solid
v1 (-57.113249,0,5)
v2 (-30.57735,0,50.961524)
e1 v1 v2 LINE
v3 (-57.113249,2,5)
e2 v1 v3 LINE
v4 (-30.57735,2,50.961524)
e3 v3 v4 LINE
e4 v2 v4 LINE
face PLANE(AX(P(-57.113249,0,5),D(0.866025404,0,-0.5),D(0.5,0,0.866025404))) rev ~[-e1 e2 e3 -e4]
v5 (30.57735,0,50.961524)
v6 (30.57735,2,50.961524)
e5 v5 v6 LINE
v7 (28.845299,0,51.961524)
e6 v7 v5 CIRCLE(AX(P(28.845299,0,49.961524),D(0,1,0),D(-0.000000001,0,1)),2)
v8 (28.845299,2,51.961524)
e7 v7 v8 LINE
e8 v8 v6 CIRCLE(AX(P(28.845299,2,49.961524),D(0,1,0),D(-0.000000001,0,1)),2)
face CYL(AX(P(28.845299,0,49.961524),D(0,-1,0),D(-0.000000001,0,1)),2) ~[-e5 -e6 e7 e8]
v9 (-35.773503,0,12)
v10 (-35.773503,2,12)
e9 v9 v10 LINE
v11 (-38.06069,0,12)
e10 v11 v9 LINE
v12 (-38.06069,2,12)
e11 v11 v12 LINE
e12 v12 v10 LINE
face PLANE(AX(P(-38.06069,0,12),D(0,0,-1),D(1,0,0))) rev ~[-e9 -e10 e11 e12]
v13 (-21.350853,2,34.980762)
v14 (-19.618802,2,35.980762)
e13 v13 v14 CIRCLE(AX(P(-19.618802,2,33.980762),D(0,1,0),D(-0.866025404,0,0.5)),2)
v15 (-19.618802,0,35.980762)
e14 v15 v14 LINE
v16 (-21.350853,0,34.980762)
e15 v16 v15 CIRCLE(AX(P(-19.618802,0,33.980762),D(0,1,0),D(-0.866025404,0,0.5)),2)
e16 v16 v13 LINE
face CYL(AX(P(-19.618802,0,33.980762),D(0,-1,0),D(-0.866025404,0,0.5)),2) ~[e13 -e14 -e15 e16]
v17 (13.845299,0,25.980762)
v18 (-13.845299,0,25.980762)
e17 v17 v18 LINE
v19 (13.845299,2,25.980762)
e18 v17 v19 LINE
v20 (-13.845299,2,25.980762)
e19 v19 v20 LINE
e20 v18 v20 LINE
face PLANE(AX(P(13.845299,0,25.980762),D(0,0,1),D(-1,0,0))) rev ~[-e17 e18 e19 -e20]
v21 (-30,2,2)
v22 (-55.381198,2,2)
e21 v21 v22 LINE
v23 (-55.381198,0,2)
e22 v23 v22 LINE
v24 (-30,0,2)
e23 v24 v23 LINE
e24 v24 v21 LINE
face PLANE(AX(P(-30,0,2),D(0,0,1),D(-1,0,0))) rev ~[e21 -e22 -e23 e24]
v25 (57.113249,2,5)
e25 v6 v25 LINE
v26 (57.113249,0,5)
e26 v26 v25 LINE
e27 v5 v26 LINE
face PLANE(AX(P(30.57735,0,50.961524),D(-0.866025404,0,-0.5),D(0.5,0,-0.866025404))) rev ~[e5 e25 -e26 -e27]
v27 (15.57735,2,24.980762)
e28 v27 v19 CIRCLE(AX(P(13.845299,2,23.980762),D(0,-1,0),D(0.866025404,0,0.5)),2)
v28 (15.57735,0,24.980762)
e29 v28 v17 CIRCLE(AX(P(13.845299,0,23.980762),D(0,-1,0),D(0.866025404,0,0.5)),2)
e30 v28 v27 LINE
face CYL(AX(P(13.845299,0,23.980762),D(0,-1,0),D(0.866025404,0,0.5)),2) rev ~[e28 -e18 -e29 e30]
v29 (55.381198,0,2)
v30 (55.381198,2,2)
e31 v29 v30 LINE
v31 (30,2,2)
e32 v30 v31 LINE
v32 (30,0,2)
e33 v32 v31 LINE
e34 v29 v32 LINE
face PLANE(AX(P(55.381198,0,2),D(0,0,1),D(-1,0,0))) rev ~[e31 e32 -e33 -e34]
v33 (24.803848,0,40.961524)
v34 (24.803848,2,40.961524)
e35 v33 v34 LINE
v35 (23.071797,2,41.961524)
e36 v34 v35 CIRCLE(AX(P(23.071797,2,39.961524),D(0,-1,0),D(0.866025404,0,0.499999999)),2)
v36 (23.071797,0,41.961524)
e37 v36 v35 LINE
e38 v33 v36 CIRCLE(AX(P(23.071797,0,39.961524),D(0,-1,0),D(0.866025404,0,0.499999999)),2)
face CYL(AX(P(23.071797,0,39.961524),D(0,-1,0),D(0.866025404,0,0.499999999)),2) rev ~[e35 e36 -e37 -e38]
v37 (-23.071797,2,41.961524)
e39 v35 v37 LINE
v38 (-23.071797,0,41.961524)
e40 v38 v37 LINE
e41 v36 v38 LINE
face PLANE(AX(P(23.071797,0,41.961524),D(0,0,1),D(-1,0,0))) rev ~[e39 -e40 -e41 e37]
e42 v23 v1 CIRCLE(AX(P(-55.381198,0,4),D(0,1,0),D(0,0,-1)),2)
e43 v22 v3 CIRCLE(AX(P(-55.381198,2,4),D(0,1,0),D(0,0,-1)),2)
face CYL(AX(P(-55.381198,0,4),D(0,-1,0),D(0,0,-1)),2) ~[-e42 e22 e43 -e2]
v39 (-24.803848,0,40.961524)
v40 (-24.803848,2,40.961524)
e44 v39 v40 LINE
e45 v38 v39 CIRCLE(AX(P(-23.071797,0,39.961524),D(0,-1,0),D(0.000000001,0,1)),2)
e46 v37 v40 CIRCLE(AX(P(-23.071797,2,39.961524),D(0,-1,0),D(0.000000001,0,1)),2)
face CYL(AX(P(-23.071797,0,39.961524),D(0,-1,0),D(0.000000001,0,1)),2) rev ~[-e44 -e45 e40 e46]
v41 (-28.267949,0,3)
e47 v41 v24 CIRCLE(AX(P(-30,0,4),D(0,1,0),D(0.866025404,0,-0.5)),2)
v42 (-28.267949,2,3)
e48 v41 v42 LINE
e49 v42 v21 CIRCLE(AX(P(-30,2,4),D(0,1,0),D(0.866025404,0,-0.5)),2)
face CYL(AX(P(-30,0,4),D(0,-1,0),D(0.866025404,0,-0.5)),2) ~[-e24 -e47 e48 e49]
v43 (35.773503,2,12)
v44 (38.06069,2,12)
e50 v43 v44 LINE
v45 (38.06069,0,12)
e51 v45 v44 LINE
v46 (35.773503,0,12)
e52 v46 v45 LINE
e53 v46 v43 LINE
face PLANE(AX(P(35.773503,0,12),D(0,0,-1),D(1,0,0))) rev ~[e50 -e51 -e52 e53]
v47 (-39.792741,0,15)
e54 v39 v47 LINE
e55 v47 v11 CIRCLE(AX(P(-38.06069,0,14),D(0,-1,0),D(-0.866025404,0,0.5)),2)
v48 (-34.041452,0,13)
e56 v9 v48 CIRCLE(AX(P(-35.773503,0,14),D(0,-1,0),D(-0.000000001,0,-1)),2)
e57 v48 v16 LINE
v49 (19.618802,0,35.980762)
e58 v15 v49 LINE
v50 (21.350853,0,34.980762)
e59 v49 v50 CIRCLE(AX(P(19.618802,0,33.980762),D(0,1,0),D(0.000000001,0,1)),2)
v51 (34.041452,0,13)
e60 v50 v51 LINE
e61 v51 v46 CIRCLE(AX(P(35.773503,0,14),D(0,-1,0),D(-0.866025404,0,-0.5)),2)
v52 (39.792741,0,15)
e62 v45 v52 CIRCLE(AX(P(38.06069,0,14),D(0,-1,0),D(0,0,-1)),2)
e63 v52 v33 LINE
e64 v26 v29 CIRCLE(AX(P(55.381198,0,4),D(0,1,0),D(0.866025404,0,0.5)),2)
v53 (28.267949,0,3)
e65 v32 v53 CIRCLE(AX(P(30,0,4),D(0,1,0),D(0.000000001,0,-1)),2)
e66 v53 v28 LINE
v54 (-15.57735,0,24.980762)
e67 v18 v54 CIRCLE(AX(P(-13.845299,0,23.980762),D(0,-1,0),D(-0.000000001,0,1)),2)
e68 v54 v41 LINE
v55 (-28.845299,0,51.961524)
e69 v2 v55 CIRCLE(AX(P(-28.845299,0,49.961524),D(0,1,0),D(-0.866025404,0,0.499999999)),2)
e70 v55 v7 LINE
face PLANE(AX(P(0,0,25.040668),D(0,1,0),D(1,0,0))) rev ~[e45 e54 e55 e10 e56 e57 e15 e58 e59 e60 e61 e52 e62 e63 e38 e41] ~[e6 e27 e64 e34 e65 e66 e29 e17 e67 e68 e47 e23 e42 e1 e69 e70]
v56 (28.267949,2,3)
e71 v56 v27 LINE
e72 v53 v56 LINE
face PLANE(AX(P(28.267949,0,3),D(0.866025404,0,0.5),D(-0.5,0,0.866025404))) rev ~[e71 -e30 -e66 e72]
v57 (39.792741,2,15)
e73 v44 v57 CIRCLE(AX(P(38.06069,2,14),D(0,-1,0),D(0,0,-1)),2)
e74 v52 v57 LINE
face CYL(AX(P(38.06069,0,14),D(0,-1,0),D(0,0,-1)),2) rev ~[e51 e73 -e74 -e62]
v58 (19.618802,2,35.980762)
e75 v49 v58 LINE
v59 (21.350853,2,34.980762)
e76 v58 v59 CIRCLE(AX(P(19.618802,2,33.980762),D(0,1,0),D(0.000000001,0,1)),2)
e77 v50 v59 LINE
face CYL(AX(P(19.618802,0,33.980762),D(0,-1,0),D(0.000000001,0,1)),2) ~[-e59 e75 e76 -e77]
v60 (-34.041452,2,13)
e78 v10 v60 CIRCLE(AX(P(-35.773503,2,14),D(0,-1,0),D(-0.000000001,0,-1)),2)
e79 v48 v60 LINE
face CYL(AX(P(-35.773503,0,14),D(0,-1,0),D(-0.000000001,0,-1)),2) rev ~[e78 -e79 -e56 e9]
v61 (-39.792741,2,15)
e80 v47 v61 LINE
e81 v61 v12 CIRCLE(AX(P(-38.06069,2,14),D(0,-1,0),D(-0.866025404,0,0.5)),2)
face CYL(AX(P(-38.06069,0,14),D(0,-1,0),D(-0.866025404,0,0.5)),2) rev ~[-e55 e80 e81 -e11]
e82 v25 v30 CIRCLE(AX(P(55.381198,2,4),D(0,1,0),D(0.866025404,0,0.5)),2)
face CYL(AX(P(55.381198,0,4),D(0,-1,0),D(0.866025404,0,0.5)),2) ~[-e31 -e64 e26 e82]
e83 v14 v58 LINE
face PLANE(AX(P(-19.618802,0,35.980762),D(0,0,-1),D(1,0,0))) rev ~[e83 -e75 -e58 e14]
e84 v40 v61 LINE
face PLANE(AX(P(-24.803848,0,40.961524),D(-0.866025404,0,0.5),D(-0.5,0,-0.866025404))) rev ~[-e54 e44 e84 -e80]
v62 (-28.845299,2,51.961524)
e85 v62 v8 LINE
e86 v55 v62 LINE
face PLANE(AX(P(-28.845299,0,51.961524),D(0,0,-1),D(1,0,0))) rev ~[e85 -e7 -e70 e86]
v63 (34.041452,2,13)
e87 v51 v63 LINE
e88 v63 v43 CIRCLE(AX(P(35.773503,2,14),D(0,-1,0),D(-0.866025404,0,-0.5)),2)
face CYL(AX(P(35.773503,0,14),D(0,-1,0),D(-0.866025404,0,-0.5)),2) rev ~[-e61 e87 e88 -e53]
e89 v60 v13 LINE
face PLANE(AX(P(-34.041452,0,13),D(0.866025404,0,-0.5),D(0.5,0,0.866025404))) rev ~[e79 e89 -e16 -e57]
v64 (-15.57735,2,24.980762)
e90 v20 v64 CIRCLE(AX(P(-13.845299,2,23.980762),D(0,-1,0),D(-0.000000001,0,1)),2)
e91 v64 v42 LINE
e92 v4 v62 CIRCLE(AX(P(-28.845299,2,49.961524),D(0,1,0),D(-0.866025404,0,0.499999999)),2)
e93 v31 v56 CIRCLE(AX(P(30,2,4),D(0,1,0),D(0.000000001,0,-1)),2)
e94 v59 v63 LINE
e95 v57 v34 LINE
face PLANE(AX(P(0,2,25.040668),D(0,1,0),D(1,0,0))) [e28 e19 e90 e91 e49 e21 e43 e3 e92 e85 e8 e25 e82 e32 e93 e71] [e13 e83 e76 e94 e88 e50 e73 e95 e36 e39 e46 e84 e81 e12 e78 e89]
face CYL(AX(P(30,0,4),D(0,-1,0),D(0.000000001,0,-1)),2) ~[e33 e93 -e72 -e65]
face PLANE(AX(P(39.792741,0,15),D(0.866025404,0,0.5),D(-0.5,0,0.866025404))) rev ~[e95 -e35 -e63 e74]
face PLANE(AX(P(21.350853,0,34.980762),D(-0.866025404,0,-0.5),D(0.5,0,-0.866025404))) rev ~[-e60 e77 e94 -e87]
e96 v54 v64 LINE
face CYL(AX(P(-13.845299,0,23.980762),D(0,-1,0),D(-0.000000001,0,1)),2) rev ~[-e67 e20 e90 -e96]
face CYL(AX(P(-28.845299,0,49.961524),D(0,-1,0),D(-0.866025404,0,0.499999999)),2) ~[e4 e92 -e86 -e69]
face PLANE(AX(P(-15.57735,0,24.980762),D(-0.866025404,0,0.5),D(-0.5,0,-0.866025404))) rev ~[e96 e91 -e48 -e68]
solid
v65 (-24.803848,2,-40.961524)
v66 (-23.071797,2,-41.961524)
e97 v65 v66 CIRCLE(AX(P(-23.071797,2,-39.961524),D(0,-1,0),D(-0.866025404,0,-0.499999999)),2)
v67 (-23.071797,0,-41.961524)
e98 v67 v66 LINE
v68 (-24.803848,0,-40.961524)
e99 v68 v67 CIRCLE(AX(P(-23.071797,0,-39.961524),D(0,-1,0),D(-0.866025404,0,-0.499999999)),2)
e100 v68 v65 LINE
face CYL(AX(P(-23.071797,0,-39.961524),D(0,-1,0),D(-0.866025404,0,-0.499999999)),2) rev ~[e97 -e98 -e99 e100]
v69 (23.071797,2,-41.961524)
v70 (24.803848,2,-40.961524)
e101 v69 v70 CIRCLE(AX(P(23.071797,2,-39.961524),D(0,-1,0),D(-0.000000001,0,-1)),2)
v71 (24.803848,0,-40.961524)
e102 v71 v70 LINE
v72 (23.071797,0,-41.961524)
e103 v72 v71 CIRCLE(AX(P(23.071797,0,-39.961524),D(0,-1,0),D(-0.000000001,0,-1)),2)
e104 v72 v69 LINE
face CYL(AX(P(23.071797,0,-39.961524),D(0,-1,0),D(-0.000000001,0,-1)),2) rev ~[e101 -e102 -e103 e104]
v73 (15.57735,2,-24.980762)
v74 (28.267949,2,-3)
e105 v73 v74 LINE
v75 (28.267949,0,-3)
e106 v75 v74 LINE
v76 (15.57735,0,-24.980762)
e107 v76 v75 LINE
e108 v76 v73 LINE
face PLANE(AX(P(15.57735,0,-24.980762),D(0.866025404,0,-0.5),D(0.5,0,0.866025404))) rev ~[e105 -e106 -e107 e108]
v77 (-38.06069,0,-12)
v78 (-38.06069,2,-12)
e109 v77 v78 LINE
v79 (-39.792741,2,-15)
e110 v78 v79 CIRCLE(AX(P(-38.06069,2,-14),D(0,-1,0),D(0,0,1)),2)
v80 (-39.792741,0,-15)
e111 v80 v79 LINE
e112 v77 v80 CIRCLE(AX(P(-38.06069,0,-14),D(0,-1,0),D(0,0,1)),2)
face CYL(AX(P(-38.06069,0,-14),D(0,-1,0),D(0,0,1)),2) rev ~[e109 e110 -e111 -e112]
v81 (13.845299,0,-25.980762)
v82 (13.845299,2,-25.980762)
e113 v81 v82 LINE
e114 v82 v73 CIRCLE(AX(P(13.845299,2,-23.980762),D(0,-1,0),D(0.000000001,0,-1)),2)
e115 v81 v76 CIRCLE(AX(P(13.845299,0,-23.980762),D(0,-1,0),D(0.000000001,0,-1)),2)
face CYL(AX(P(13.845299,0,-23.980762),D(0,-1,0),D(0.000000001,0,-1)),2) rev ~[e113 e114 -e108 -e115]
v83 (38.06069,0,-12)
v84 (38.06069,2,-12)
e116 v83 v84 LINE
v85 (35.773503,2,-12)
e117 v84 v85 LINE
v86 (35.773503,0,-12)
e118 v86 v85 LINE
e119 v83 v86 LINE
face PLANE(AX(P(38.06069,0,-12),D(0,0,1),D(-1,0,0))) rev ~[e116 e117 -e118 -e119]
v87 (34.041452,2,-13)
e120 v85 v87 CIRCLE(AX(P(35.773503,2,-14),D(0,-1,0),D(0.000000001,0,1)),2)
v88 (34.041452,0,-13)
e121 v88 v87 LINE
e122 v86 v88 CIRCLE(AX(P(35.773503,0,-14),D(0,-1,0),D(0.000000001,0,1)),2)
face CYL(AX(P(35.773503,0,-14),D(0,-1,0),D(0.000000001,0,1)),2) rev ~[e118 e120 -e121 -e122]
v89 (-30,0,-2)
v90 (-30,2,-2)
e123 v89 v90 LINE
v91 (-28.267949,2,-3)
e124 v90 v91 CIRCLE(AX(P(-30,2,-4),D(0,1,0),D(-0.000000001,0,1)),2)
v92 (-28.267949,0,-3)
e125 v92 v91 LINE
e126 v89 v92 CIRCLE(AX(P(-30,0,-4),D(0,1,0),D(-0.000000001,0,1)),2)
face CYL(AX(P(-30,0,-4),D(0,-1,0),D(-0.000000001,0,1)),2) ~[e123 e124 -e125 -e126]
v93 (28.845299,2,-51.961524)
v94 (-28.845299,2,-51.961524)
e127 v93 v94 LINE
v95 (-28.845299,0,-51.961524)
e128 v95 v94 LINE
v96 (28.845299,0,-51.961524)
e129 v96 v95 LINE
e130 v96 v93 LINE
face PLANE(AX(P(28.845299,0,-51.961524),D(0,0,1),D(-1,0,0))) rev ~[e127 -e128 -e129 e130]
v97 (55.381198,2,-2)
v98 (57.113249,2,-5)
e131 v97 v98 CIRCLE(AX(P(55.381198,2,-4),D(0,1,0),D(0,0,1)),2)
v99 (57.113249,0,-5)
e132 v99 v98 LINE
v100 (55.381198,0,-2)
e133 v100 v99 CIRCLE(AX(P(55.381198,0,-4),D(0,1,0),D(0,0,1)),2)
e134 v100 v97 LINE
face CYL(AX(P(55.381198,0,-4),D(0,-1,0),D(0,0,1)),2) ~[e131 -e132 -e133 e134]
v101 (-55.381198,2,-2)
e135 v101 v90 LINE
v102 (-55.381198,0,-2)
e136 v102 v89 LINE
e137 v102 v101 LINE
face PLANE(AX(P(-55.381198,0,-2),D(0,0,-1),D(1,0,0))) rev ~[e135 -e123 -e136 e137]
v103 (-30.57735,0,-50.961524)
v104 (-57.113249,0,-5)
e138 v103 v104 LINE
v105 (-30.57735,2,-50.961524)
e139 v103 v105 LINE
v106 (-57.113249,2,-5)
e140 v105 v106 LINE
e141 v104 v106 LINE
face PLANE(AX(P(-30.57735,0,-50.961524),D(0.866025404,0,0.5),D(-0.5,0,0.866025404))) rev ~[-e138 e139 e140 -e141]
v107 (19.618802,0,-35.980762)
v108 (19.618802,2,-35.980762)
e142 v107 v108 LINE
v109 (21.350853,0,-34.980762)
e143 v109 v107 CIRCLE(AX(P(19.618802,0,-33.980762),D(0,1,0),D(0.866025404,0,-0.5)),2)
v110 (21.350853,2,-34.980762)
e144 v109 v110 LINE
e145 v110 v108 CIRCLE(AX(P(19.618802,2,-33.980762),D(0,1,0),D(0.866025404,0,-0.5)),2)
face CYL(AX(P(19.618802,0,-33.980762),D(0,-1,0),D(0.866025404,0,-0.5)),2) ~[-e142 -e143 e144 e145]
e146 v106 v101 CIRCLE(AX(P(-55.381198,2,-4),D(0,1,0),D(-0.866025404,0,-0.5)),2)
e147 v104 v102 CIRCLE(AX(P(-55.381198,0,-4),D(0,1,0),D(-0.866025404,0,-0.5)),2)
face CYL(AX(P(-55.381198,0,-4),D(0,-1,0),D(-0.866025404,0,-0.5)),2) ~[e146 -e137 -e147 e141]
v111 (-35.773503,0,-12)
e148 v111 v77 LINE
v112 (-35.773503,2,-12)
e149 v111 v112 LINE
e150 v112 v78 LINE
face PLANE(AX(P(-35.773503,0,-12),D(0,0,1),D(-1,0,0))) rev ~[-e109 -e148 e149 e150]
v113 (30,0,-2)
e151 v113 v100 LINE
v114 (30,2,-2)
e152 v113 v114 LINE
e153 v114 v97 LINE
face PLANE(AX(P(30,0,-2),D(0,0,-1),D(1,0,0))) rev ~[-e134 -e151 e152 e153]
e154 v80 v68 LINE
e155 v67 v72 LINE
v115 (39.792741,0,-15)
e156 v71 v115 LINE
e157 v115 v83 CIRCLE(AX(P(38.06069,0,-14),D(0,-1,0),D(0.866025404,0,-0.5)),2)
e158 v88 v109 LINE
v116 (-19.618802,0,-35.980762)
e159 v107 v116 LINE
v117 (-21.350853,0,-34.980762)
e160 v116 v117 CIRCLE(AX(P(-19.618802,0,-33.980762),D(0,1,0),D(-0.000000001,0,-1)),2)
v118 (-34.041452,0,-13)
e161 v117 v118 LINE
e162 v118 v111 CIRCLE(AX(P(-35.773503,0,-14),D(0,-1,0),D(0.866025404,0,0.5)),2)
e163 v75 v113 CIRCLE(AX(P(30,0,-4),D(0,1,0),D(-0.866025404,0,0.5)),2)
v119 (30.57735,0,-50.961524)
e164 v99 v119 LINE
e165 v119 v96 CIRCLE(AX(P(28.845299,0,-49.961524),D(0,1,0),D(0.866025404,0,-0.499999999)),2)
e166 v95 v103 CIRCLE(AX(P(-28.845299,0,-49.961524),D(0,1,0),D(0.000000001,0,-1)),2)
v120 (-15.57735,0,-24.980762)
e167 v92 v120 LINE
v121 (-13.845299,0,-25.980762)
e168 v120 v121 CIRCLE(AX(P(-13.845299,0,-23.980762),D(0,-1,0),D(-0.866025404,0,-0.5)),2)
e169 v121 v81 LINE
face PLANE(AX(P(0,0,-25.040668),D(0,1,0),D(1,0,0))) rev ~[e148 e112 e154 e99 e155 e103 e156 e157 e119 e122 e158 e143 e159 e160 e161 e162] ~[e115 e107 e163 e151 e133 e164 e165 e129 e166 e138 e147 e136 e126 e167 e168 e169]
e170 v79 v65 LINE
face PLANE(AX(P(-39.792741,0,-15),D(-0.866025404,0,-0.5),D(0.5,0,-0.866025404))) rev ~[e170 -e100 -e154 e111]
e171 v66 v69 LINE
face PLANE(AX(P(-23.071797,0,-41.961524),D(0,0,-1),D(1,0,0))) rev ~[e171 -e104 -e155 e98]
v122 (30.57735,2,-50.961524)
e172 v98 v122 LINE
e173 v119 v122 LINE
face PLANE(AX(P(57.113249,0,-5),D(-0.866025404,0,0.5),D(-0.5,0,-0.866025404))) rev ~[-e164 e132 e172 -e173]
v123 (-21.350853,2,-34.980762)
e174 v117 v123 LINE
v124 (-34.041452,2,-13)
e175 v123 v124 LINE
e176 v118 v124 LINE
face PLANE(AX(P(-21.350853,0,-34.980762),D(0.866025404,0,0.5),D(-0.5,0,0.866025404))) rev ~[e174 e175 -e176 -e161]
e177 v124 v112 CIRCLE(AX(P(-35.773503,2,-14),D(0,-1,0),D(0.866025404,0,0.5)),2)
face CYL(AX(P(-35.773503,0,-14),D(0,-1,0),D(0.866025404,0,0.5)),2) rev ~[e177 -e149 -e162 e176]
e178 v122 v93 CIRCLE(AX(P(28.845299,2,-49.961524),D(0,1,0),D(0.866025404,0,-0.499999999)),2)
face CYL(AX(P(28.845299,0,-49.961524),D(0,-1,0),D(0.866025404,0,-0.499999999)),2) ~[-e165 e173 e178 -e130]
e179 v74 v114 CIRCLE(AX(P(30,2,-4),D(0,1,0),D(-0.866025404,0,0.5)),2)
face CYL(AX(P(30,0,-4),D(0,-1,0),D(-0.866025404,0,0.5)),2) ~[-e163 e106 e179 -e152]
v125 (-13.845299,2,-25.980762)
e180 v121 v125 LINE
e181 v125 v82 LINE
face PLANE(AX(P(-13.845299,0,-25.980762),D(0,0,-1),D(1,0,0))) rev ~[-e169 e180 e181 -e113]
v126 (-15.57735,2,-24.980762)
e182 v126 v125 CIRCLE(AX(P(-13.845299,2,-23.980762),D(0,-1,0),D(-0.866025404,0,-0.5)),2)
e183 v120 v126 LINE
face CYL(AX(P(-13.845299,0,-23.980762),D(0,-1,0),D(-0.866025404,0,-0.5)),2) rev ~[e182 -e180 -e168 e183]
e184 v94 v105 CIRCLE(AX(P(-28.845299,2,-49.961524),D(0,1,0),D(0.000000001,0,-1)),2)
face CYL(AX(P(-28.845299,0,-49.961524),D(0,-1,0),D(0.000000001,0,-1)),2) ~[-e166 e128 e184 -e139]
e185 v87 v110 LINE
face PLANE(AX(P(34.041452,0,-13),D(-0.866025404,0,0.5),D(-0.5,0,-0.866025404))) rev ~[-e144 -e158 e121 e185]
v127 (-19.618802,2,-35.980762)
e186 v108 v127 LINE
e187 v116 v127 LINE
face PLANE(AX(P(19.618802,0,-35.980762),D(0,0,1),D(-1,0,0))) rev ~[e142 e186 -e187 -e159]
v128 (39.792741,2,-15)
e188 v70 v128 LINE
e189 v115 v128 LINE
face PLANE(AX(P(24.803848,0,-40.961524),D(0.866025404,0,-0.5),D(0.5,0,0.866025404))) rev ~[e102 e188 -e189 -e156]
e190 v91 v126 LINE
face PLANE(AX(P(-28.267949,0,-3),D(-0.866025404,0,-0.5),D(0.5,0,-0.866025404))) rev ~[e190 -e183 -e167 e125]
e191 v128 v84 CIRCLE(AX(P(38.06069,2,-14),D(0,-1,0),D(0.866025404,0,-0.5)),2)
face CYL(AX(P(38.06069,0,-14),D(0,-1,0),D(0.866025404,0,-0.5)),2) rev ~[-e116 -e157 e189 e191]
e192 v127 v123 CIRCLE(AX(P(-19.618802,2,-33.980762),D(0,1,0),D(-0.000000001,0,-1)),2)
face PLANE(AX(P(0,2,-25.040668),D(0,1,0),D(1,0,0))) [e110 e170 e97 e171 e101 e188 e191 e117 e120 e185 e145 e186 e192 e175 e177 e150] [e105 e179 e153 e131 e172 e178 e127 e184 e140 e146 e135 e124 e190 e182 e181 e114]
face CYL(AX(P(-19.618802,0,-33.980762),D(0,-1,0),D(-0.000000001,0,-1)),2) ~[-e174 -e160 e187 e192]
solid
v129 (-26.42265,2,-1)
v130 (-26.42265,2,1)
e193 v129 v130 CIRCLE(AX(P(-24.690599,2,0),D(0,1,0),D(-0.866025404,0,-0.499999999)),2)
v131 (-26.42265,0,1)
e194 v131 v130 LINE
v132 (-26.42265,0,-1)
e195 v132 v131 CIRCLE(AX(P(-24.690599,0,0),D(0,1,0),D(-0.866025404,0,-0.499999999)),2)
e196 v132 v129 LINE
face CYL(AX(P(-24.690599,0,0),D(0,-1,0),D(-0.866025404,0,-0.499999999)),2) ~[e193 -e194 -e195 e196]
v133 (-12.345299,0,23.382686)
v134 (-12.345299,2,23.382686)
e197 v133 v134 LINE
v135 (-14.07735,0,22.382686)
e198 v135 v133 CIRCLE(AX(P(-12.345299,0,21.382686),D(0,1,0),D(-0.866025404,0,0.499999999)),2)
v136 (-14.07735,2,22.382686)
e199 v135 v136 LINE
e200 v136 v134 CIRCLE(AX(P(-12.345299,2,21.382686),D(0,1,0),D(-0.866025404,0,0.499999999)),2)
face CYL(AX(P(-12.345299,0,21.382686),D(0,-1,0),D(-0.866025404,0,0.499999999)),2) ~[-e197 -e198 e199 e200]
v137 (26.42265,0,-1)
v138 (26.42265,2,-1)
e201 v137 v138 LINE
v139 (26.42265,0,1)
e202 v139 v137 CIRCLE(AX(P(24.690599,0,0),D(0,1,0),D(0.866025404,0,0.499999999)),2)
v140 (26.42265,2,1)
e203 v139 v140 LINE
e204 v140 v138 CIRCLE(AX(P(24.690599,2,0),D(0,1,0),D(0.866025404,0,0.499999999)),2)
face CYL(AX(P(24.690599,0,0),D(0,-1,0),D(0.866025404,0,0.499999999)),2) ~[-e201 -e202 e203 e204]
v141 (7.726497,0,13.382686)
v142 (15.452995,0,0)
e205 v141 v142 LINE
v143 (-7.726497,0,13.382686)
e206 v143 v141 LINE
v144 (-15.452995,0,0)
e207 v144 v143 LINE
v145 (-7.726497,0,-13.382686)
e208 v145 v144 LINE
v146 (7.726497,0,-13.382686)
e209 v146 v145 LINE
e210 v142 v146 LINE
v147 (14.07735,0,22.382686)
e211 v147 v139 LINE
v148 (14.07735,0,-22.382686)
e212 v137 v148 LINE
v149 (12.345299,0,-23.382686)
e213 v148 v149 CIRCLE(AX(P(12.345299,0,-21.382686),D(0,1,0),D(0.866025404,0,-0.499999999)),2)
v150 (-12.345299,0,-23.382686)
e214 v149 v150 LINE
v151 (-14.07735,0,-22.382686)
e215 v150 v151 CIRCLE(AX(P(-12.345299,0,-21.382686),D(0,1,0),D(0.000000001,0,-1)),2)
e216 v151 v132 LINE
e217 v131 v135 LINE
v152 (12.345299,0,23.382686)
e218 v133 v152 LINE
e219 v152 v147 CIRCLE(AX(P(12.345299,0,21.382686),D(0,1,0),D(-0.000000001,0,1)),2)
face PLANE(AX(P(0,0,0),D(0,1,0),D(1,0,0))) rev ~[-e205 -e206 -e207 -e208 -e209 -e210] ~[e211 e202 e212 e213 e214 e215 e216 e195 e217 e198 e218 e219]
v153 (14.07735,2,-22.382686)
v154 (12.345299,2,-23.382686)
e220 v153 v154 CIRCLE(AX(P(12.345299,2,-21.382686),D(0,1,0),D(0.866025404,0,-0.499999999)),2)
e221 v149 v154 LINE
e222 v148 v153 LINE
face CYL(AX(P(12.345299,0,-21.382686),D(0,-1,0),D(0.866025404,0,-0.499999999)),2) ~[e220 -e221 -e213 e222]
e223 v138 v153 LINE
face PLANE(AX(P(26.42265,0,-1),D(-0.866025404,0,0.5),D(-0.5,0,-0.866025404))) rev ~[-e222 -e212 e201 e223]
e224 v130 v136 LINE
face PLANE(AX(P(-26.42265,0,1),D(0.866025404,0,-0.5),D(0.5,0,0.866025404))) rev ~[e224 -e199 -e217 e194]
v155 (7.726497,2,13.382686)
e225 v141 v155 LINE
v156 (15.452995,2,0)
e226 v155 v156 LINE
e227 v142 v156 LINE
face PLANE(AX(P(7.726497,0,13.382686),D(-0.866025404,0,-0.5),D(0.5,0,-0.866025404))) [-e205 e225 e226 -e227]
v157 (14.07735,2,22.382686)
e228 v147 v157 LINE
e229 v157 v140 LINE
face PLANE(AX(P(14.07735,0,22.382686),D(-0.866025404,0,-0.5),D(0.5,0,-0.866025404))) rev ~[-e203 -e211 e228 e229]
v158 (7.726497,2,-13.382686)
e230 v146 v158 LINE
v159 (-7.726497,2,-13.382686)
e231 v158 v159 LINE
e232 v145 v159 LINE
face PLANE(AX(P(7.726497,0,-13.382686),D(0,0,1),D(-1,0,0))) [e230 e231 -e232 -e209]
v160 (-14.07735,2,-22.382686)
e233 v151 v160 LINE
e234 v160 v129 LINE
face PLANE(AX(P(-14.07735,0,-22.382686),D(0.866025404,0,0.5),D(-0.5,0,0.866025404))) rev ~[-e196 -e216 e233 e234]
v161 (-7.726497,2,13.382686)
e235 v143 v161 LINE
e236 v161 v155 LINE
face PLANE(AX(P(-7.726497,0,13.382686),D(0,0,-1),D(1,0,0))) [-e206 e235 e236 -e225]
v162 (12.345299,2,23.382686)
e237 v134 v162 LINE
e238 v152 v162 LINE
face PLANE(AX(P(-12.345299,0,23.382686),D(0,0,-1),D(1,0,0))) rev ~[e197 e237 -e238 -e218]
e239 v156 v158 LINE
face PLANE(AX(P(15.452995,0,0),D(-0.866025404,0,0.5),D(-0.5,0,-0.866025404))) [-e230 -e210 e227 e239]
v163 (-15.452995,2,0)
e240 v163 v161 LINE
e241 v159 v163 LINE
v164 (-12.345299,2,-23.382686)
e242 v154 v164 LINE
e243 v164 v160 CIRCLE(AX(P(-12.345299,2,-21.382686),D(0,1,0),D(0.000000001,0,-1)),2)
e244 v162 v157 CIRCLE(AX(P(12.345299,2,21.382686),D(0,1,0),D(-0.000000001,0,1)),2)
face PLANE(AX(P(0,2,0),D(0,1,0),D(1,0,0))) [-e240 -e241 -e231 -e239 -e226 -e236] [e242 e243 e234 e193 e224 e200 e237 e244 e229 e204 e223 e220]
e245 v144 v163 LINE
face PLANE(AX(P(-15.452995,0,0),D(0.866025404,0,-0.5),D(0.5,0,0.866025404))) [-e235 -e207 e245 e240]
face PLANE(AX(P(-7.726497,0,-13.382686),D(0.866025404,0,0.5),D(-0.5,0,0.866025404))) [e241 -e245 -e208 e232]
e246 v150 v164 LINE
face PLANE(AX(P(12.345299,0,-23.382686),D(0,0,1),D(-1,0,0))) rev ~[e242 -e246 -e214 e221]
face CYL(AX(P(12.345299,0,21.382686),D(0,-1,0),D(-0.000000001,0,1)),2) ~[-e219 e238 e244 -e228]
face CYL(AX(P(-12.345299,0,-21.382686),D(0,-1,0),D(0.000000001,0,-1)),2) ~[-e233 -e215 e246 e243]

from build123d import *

# Parameters (mm, degrees)
EXTRUDE_1_DEPTH   = 2
EXTRUDE_1_2_DEPTH = 2
EXTRUDE_2_DEPTH   = 2


with BuildPart() as part:
    # 草图1 → 凸台-拉伸1 (new body)
    with BuildSketch(Plane(origin=(0, 0, 0), x_dir=(1, 0, 0), z_dir=(0, 1, 0))):
        with BuildLine():
            Line((57.113248654, 5), (30.577350269, 50.961524227))
            ThreePointArc((30.577350269, 50.961524227), (29.845299462, 51.693575035), (28.845299462, 51.961524227))
            Line((28.845299462, 51.961524227), (-28.845299462, 51.961524227))
            ThreePointArc((-28.845299462, 51.961524227), (-29.845299462, 51.693575035), (-30.577350269, 50.961524227))
            Line((-30.577350269, 50.961524227), (-57.113248654, 5))
            ThreePointArc((-57.113248654, 5), (-57.113248654, 3), (-55.381197846, 2))
            Line((-55.381197846, 2), (-30, 2))
            ThreePointArc((-30, 2), (-29, 2.267949192), (-28.267949192, 3))
            Line((-28.267949192, 3), (-15.577350269, 24.980762114))
            ThreePointArc((-15.577350269, 24.980762114), (-14.845299462, 25.712812921), (-13.845299462, 25.980762114))
            Line((-13.845299462, 25.980762114), (13.845299462, 25.980762114))
            ThreePointArc((13.845299462, 25.980762114), (14.845299462, 25.712812921), (15.577350269, 24.980762114))
            Line((15.577350269, 24.980762114), (28.267949192, 3))
            ThreePointArc((28.267949192, 3), (29, 2.267949192), (30, 2))
            Line((30, 2), (55.381197846, 2))
            ThreePointArc((55.381197846, 2), (57.113248654, 3), (57.113248654, 5))
        make_face()
        with BuildLine():
            Line((-21.350852961, 34.980762114), (-34.041451884, 13))
            ThreePointArc((-34.041451884, 13), (-34.773502692, 12.267949192), (-35.773502692, 12))
            Line((-35.773502692, 12), (-38.060689771, 12))
            ThreePointArc((-38.060689771, 12), (-39.792740578, 13), (-39.792740578, 15))
            Line((-39.792740578, 15), (-24.803847577, 40.961524227))
            ThreePointArc((-24.803847577, 40.961524227), (-24.07179677, 41.693575035), (-23.07179677, 41.961524227))
            Line((-23.07179677, 41.961524227), (23.07179677, 41.961524227))
            ThreePointArc((23.07179677, 41.961524227), (24.07179677, 41.693575035), (24.803847577, 40.961524227))
            Line((24.803847577, 40.961524227), (39.792740578, 15))
            ThreePointArc((39.792740578, 15), (39.792740578, 13), (38.060689771, 12))
            Line((38.060689771, 12), (35.773502692, 12))
            ThreePointArc((35.773502692, 12), (34.773502692, 12.267949192), (34.041451884, 13))
            Line((34.041451884, 13), (21.350852961, 34.980762114))
            ThreePointArc((21.350852961, 34.980762114), (20.618802154, 35.712812921), (19.618802154, 35.980762114))
            Line((19.618802154, 35.980762114), (-19.618802154, 35.980762114))
            ThreePointArc((-19.618802154, 35.980762114), (-20.618802154, 35.712812921), (-21.350852961, 34.980762114))
        make_face(mode=Mode.SUBTRACT)
    extrude(amount=EXTRUDE_1_DEPTH)


with BuildPart() as body_2:
    # 草图1 → Extrude 1 2 (new body)
    with BuildSketch(Plane(origin=(0, 0, 0), x_dir=(1, 0, 0), z_dir=(0, 1, 0))):
        with BuildLine():
            Line((-57.113248654, -5), (-30.577350269, -50.961524227))
            ThreePointArc((-30.577350269, -50.961524227), (-29.845299462, -51.693575035), (-28.845299462, -51.961524227))
            Line((-28.845299462, -51.961524227), (28.845299462, -51.961524227))
            ThreePointArc((28.845299462, -51.961524227), (29.845299462, -51.693575035), (30.577350269, -50.961524227))
            Line((30.577350269, -50.961524227), (57.113248654, -5))
            ThreePointArc((57.113248654, -5), (57.113248654, -3), (55.381197846, -2))
            Line((55.381197846, -2), (30, -2))
            ThreePointArc((30, -2), (29, -2.267949192), (28.267949192, -3))
            Line((28.267949192, -3), (15.577350269, -24.980762114))
            ThreePointArc((15.577350269, -24.980762114), (14.845299462, -25.712812921), (13.845299462, -25.980762114))
            Line((13.845299462, -25.980762114), (-13.845299462, -25.980762114))
            ThreePointArc((-13.845299462, -25.980762114), (-14.845299462, -25.712812921), (-15.577350269, -24.980762114))
            Line((-15.577350269, -24.980762114), (-28.267949192, -3))
            ThreePointArc((-28.267949192, -3), (-29, -2.267949192), (-30, -2))
            Line((-30, -2), (-55.381197846, -2))
            ThreePointArc((-55.381197846, -2), (-57.113248654, -3), (-57.113248654, -5))
        make_face()
        with BuildLine():
            Line((35.773502692, -12), (38.060689771, -12))
            ThreePointArc((38.060689771, -12), (39.792740578, -13), (39.792740578, -15))
            Line((39.792740578, -15), (24.803847577, -40.961524227))
            ThreePointArc((24.803847577, -40.961524227), (24.07179677, -41.693575035), (23.07179677, -41.961524227))
            Line((23.07179677, -41.961524227), (-23.07179677, -41.961524227))
            ThreePointArc((-23.07179677, -41.961524227), (-24.07179677, -41.693575035), (-24.803847577, -40.961524227))
            Line((-24.803847577, -40.961524227), (-39.792740578, -15))
            ThreePointArc((-39.792740578, -15), (-39.792740578, -13), (-38.060689771, -12))
            Line((-38.060689771, -12), (-35.773502692, -12))
            ThreePointArc((-35.773502692, -12), (-34.773502692, -12.267949192), (-34.041451884, -13))
            Line((-34.041451884, -13), (-21.350852961, -34.980762114))
            ThreePointArc((-21.350852961, -34.980762114), (-20.618802154, -35.712812921), (-19.618802154, -35.980762114))
            Line((-19.618802154, -35.980762114), (19.618802154, -35.980762114))
            ThreePointArc((19.618802154, -35.980762114), (20.618802154, -35.712812921), (21.350852961, -34.980762114))
            Line((21.350852961, -34.980762114), (34.041451884, -13))
            ThreePointArc((34.041451884, -13), (34.773502692, -12.267949192), (35.773502692, -12))
        make_face(mode=Mode.SUBTRACT)
    extrude(amount=EXTRUDE_1_2_DEPTH)


with BuildPart() as body_3:
    # 草图2 → 凸台-拉伸2 (new body)
    with BuildSketch(Plane(origin=(0, 0, 0), x_dir=(1, 0, 0), z_dir=(0, 1, 0))):
        with BuildLine():
            Line((26.422649731, 1), (14.077350269, 22.382685902))
            ThreePointArc((14.077350269, 22.382685902), (13.345299462, 23.11473671), (12.345299462, 23.382685902))
            Line((12.345299462, 23.382685902), (-12.345299462, 23.382685902))
            ThreePointArc((-12.345299462, 23.382685902), (-13.345299462, 23.11473671), (-14.077350269, 22.382685902))
            Line((-14.077350269, 22.382685902), (-26.422649731, 1))
            ThreePointArc((-26.422649731, 1), (-26.690598923, 0), (-26.422649731, -1))
            Line((-26.422649731, -1), (-14.077350269, -22.382685902))
            ThreePointArc((-14.077350269, -22.382685902), (-13.345299462, -23.11473671), (-12.345299462, -23.382685902))
            Line((-12.345299462, -23.382685902), (12.345299462, -23.382685902))
            ThreePointArc((12.345299462, -23.382685902), (13.345299462, -23.11473671), (14.077350269, -22.382685902))
            Line((14.077350269, -22.382685902), (26.422649731, -1))
            ThreePointArc((26.422649731, -1), (26.690598923, 0), (26.422649731, 1))
        make_face()
        Polygon((15.452994616, 0), (7.726497308, 13.382685902), (-7.726497308, 13.382685902), (-15.452994616, 0), (-7.726497308, -13.382685902), (7.726497308, -13.382685902), align=None, mode=Mode.SUBTRACT)
    extrude(amount=EXTRUDE_2_DEPTH)


solid = Compound([part.part, body_2.part, body_3.part])
